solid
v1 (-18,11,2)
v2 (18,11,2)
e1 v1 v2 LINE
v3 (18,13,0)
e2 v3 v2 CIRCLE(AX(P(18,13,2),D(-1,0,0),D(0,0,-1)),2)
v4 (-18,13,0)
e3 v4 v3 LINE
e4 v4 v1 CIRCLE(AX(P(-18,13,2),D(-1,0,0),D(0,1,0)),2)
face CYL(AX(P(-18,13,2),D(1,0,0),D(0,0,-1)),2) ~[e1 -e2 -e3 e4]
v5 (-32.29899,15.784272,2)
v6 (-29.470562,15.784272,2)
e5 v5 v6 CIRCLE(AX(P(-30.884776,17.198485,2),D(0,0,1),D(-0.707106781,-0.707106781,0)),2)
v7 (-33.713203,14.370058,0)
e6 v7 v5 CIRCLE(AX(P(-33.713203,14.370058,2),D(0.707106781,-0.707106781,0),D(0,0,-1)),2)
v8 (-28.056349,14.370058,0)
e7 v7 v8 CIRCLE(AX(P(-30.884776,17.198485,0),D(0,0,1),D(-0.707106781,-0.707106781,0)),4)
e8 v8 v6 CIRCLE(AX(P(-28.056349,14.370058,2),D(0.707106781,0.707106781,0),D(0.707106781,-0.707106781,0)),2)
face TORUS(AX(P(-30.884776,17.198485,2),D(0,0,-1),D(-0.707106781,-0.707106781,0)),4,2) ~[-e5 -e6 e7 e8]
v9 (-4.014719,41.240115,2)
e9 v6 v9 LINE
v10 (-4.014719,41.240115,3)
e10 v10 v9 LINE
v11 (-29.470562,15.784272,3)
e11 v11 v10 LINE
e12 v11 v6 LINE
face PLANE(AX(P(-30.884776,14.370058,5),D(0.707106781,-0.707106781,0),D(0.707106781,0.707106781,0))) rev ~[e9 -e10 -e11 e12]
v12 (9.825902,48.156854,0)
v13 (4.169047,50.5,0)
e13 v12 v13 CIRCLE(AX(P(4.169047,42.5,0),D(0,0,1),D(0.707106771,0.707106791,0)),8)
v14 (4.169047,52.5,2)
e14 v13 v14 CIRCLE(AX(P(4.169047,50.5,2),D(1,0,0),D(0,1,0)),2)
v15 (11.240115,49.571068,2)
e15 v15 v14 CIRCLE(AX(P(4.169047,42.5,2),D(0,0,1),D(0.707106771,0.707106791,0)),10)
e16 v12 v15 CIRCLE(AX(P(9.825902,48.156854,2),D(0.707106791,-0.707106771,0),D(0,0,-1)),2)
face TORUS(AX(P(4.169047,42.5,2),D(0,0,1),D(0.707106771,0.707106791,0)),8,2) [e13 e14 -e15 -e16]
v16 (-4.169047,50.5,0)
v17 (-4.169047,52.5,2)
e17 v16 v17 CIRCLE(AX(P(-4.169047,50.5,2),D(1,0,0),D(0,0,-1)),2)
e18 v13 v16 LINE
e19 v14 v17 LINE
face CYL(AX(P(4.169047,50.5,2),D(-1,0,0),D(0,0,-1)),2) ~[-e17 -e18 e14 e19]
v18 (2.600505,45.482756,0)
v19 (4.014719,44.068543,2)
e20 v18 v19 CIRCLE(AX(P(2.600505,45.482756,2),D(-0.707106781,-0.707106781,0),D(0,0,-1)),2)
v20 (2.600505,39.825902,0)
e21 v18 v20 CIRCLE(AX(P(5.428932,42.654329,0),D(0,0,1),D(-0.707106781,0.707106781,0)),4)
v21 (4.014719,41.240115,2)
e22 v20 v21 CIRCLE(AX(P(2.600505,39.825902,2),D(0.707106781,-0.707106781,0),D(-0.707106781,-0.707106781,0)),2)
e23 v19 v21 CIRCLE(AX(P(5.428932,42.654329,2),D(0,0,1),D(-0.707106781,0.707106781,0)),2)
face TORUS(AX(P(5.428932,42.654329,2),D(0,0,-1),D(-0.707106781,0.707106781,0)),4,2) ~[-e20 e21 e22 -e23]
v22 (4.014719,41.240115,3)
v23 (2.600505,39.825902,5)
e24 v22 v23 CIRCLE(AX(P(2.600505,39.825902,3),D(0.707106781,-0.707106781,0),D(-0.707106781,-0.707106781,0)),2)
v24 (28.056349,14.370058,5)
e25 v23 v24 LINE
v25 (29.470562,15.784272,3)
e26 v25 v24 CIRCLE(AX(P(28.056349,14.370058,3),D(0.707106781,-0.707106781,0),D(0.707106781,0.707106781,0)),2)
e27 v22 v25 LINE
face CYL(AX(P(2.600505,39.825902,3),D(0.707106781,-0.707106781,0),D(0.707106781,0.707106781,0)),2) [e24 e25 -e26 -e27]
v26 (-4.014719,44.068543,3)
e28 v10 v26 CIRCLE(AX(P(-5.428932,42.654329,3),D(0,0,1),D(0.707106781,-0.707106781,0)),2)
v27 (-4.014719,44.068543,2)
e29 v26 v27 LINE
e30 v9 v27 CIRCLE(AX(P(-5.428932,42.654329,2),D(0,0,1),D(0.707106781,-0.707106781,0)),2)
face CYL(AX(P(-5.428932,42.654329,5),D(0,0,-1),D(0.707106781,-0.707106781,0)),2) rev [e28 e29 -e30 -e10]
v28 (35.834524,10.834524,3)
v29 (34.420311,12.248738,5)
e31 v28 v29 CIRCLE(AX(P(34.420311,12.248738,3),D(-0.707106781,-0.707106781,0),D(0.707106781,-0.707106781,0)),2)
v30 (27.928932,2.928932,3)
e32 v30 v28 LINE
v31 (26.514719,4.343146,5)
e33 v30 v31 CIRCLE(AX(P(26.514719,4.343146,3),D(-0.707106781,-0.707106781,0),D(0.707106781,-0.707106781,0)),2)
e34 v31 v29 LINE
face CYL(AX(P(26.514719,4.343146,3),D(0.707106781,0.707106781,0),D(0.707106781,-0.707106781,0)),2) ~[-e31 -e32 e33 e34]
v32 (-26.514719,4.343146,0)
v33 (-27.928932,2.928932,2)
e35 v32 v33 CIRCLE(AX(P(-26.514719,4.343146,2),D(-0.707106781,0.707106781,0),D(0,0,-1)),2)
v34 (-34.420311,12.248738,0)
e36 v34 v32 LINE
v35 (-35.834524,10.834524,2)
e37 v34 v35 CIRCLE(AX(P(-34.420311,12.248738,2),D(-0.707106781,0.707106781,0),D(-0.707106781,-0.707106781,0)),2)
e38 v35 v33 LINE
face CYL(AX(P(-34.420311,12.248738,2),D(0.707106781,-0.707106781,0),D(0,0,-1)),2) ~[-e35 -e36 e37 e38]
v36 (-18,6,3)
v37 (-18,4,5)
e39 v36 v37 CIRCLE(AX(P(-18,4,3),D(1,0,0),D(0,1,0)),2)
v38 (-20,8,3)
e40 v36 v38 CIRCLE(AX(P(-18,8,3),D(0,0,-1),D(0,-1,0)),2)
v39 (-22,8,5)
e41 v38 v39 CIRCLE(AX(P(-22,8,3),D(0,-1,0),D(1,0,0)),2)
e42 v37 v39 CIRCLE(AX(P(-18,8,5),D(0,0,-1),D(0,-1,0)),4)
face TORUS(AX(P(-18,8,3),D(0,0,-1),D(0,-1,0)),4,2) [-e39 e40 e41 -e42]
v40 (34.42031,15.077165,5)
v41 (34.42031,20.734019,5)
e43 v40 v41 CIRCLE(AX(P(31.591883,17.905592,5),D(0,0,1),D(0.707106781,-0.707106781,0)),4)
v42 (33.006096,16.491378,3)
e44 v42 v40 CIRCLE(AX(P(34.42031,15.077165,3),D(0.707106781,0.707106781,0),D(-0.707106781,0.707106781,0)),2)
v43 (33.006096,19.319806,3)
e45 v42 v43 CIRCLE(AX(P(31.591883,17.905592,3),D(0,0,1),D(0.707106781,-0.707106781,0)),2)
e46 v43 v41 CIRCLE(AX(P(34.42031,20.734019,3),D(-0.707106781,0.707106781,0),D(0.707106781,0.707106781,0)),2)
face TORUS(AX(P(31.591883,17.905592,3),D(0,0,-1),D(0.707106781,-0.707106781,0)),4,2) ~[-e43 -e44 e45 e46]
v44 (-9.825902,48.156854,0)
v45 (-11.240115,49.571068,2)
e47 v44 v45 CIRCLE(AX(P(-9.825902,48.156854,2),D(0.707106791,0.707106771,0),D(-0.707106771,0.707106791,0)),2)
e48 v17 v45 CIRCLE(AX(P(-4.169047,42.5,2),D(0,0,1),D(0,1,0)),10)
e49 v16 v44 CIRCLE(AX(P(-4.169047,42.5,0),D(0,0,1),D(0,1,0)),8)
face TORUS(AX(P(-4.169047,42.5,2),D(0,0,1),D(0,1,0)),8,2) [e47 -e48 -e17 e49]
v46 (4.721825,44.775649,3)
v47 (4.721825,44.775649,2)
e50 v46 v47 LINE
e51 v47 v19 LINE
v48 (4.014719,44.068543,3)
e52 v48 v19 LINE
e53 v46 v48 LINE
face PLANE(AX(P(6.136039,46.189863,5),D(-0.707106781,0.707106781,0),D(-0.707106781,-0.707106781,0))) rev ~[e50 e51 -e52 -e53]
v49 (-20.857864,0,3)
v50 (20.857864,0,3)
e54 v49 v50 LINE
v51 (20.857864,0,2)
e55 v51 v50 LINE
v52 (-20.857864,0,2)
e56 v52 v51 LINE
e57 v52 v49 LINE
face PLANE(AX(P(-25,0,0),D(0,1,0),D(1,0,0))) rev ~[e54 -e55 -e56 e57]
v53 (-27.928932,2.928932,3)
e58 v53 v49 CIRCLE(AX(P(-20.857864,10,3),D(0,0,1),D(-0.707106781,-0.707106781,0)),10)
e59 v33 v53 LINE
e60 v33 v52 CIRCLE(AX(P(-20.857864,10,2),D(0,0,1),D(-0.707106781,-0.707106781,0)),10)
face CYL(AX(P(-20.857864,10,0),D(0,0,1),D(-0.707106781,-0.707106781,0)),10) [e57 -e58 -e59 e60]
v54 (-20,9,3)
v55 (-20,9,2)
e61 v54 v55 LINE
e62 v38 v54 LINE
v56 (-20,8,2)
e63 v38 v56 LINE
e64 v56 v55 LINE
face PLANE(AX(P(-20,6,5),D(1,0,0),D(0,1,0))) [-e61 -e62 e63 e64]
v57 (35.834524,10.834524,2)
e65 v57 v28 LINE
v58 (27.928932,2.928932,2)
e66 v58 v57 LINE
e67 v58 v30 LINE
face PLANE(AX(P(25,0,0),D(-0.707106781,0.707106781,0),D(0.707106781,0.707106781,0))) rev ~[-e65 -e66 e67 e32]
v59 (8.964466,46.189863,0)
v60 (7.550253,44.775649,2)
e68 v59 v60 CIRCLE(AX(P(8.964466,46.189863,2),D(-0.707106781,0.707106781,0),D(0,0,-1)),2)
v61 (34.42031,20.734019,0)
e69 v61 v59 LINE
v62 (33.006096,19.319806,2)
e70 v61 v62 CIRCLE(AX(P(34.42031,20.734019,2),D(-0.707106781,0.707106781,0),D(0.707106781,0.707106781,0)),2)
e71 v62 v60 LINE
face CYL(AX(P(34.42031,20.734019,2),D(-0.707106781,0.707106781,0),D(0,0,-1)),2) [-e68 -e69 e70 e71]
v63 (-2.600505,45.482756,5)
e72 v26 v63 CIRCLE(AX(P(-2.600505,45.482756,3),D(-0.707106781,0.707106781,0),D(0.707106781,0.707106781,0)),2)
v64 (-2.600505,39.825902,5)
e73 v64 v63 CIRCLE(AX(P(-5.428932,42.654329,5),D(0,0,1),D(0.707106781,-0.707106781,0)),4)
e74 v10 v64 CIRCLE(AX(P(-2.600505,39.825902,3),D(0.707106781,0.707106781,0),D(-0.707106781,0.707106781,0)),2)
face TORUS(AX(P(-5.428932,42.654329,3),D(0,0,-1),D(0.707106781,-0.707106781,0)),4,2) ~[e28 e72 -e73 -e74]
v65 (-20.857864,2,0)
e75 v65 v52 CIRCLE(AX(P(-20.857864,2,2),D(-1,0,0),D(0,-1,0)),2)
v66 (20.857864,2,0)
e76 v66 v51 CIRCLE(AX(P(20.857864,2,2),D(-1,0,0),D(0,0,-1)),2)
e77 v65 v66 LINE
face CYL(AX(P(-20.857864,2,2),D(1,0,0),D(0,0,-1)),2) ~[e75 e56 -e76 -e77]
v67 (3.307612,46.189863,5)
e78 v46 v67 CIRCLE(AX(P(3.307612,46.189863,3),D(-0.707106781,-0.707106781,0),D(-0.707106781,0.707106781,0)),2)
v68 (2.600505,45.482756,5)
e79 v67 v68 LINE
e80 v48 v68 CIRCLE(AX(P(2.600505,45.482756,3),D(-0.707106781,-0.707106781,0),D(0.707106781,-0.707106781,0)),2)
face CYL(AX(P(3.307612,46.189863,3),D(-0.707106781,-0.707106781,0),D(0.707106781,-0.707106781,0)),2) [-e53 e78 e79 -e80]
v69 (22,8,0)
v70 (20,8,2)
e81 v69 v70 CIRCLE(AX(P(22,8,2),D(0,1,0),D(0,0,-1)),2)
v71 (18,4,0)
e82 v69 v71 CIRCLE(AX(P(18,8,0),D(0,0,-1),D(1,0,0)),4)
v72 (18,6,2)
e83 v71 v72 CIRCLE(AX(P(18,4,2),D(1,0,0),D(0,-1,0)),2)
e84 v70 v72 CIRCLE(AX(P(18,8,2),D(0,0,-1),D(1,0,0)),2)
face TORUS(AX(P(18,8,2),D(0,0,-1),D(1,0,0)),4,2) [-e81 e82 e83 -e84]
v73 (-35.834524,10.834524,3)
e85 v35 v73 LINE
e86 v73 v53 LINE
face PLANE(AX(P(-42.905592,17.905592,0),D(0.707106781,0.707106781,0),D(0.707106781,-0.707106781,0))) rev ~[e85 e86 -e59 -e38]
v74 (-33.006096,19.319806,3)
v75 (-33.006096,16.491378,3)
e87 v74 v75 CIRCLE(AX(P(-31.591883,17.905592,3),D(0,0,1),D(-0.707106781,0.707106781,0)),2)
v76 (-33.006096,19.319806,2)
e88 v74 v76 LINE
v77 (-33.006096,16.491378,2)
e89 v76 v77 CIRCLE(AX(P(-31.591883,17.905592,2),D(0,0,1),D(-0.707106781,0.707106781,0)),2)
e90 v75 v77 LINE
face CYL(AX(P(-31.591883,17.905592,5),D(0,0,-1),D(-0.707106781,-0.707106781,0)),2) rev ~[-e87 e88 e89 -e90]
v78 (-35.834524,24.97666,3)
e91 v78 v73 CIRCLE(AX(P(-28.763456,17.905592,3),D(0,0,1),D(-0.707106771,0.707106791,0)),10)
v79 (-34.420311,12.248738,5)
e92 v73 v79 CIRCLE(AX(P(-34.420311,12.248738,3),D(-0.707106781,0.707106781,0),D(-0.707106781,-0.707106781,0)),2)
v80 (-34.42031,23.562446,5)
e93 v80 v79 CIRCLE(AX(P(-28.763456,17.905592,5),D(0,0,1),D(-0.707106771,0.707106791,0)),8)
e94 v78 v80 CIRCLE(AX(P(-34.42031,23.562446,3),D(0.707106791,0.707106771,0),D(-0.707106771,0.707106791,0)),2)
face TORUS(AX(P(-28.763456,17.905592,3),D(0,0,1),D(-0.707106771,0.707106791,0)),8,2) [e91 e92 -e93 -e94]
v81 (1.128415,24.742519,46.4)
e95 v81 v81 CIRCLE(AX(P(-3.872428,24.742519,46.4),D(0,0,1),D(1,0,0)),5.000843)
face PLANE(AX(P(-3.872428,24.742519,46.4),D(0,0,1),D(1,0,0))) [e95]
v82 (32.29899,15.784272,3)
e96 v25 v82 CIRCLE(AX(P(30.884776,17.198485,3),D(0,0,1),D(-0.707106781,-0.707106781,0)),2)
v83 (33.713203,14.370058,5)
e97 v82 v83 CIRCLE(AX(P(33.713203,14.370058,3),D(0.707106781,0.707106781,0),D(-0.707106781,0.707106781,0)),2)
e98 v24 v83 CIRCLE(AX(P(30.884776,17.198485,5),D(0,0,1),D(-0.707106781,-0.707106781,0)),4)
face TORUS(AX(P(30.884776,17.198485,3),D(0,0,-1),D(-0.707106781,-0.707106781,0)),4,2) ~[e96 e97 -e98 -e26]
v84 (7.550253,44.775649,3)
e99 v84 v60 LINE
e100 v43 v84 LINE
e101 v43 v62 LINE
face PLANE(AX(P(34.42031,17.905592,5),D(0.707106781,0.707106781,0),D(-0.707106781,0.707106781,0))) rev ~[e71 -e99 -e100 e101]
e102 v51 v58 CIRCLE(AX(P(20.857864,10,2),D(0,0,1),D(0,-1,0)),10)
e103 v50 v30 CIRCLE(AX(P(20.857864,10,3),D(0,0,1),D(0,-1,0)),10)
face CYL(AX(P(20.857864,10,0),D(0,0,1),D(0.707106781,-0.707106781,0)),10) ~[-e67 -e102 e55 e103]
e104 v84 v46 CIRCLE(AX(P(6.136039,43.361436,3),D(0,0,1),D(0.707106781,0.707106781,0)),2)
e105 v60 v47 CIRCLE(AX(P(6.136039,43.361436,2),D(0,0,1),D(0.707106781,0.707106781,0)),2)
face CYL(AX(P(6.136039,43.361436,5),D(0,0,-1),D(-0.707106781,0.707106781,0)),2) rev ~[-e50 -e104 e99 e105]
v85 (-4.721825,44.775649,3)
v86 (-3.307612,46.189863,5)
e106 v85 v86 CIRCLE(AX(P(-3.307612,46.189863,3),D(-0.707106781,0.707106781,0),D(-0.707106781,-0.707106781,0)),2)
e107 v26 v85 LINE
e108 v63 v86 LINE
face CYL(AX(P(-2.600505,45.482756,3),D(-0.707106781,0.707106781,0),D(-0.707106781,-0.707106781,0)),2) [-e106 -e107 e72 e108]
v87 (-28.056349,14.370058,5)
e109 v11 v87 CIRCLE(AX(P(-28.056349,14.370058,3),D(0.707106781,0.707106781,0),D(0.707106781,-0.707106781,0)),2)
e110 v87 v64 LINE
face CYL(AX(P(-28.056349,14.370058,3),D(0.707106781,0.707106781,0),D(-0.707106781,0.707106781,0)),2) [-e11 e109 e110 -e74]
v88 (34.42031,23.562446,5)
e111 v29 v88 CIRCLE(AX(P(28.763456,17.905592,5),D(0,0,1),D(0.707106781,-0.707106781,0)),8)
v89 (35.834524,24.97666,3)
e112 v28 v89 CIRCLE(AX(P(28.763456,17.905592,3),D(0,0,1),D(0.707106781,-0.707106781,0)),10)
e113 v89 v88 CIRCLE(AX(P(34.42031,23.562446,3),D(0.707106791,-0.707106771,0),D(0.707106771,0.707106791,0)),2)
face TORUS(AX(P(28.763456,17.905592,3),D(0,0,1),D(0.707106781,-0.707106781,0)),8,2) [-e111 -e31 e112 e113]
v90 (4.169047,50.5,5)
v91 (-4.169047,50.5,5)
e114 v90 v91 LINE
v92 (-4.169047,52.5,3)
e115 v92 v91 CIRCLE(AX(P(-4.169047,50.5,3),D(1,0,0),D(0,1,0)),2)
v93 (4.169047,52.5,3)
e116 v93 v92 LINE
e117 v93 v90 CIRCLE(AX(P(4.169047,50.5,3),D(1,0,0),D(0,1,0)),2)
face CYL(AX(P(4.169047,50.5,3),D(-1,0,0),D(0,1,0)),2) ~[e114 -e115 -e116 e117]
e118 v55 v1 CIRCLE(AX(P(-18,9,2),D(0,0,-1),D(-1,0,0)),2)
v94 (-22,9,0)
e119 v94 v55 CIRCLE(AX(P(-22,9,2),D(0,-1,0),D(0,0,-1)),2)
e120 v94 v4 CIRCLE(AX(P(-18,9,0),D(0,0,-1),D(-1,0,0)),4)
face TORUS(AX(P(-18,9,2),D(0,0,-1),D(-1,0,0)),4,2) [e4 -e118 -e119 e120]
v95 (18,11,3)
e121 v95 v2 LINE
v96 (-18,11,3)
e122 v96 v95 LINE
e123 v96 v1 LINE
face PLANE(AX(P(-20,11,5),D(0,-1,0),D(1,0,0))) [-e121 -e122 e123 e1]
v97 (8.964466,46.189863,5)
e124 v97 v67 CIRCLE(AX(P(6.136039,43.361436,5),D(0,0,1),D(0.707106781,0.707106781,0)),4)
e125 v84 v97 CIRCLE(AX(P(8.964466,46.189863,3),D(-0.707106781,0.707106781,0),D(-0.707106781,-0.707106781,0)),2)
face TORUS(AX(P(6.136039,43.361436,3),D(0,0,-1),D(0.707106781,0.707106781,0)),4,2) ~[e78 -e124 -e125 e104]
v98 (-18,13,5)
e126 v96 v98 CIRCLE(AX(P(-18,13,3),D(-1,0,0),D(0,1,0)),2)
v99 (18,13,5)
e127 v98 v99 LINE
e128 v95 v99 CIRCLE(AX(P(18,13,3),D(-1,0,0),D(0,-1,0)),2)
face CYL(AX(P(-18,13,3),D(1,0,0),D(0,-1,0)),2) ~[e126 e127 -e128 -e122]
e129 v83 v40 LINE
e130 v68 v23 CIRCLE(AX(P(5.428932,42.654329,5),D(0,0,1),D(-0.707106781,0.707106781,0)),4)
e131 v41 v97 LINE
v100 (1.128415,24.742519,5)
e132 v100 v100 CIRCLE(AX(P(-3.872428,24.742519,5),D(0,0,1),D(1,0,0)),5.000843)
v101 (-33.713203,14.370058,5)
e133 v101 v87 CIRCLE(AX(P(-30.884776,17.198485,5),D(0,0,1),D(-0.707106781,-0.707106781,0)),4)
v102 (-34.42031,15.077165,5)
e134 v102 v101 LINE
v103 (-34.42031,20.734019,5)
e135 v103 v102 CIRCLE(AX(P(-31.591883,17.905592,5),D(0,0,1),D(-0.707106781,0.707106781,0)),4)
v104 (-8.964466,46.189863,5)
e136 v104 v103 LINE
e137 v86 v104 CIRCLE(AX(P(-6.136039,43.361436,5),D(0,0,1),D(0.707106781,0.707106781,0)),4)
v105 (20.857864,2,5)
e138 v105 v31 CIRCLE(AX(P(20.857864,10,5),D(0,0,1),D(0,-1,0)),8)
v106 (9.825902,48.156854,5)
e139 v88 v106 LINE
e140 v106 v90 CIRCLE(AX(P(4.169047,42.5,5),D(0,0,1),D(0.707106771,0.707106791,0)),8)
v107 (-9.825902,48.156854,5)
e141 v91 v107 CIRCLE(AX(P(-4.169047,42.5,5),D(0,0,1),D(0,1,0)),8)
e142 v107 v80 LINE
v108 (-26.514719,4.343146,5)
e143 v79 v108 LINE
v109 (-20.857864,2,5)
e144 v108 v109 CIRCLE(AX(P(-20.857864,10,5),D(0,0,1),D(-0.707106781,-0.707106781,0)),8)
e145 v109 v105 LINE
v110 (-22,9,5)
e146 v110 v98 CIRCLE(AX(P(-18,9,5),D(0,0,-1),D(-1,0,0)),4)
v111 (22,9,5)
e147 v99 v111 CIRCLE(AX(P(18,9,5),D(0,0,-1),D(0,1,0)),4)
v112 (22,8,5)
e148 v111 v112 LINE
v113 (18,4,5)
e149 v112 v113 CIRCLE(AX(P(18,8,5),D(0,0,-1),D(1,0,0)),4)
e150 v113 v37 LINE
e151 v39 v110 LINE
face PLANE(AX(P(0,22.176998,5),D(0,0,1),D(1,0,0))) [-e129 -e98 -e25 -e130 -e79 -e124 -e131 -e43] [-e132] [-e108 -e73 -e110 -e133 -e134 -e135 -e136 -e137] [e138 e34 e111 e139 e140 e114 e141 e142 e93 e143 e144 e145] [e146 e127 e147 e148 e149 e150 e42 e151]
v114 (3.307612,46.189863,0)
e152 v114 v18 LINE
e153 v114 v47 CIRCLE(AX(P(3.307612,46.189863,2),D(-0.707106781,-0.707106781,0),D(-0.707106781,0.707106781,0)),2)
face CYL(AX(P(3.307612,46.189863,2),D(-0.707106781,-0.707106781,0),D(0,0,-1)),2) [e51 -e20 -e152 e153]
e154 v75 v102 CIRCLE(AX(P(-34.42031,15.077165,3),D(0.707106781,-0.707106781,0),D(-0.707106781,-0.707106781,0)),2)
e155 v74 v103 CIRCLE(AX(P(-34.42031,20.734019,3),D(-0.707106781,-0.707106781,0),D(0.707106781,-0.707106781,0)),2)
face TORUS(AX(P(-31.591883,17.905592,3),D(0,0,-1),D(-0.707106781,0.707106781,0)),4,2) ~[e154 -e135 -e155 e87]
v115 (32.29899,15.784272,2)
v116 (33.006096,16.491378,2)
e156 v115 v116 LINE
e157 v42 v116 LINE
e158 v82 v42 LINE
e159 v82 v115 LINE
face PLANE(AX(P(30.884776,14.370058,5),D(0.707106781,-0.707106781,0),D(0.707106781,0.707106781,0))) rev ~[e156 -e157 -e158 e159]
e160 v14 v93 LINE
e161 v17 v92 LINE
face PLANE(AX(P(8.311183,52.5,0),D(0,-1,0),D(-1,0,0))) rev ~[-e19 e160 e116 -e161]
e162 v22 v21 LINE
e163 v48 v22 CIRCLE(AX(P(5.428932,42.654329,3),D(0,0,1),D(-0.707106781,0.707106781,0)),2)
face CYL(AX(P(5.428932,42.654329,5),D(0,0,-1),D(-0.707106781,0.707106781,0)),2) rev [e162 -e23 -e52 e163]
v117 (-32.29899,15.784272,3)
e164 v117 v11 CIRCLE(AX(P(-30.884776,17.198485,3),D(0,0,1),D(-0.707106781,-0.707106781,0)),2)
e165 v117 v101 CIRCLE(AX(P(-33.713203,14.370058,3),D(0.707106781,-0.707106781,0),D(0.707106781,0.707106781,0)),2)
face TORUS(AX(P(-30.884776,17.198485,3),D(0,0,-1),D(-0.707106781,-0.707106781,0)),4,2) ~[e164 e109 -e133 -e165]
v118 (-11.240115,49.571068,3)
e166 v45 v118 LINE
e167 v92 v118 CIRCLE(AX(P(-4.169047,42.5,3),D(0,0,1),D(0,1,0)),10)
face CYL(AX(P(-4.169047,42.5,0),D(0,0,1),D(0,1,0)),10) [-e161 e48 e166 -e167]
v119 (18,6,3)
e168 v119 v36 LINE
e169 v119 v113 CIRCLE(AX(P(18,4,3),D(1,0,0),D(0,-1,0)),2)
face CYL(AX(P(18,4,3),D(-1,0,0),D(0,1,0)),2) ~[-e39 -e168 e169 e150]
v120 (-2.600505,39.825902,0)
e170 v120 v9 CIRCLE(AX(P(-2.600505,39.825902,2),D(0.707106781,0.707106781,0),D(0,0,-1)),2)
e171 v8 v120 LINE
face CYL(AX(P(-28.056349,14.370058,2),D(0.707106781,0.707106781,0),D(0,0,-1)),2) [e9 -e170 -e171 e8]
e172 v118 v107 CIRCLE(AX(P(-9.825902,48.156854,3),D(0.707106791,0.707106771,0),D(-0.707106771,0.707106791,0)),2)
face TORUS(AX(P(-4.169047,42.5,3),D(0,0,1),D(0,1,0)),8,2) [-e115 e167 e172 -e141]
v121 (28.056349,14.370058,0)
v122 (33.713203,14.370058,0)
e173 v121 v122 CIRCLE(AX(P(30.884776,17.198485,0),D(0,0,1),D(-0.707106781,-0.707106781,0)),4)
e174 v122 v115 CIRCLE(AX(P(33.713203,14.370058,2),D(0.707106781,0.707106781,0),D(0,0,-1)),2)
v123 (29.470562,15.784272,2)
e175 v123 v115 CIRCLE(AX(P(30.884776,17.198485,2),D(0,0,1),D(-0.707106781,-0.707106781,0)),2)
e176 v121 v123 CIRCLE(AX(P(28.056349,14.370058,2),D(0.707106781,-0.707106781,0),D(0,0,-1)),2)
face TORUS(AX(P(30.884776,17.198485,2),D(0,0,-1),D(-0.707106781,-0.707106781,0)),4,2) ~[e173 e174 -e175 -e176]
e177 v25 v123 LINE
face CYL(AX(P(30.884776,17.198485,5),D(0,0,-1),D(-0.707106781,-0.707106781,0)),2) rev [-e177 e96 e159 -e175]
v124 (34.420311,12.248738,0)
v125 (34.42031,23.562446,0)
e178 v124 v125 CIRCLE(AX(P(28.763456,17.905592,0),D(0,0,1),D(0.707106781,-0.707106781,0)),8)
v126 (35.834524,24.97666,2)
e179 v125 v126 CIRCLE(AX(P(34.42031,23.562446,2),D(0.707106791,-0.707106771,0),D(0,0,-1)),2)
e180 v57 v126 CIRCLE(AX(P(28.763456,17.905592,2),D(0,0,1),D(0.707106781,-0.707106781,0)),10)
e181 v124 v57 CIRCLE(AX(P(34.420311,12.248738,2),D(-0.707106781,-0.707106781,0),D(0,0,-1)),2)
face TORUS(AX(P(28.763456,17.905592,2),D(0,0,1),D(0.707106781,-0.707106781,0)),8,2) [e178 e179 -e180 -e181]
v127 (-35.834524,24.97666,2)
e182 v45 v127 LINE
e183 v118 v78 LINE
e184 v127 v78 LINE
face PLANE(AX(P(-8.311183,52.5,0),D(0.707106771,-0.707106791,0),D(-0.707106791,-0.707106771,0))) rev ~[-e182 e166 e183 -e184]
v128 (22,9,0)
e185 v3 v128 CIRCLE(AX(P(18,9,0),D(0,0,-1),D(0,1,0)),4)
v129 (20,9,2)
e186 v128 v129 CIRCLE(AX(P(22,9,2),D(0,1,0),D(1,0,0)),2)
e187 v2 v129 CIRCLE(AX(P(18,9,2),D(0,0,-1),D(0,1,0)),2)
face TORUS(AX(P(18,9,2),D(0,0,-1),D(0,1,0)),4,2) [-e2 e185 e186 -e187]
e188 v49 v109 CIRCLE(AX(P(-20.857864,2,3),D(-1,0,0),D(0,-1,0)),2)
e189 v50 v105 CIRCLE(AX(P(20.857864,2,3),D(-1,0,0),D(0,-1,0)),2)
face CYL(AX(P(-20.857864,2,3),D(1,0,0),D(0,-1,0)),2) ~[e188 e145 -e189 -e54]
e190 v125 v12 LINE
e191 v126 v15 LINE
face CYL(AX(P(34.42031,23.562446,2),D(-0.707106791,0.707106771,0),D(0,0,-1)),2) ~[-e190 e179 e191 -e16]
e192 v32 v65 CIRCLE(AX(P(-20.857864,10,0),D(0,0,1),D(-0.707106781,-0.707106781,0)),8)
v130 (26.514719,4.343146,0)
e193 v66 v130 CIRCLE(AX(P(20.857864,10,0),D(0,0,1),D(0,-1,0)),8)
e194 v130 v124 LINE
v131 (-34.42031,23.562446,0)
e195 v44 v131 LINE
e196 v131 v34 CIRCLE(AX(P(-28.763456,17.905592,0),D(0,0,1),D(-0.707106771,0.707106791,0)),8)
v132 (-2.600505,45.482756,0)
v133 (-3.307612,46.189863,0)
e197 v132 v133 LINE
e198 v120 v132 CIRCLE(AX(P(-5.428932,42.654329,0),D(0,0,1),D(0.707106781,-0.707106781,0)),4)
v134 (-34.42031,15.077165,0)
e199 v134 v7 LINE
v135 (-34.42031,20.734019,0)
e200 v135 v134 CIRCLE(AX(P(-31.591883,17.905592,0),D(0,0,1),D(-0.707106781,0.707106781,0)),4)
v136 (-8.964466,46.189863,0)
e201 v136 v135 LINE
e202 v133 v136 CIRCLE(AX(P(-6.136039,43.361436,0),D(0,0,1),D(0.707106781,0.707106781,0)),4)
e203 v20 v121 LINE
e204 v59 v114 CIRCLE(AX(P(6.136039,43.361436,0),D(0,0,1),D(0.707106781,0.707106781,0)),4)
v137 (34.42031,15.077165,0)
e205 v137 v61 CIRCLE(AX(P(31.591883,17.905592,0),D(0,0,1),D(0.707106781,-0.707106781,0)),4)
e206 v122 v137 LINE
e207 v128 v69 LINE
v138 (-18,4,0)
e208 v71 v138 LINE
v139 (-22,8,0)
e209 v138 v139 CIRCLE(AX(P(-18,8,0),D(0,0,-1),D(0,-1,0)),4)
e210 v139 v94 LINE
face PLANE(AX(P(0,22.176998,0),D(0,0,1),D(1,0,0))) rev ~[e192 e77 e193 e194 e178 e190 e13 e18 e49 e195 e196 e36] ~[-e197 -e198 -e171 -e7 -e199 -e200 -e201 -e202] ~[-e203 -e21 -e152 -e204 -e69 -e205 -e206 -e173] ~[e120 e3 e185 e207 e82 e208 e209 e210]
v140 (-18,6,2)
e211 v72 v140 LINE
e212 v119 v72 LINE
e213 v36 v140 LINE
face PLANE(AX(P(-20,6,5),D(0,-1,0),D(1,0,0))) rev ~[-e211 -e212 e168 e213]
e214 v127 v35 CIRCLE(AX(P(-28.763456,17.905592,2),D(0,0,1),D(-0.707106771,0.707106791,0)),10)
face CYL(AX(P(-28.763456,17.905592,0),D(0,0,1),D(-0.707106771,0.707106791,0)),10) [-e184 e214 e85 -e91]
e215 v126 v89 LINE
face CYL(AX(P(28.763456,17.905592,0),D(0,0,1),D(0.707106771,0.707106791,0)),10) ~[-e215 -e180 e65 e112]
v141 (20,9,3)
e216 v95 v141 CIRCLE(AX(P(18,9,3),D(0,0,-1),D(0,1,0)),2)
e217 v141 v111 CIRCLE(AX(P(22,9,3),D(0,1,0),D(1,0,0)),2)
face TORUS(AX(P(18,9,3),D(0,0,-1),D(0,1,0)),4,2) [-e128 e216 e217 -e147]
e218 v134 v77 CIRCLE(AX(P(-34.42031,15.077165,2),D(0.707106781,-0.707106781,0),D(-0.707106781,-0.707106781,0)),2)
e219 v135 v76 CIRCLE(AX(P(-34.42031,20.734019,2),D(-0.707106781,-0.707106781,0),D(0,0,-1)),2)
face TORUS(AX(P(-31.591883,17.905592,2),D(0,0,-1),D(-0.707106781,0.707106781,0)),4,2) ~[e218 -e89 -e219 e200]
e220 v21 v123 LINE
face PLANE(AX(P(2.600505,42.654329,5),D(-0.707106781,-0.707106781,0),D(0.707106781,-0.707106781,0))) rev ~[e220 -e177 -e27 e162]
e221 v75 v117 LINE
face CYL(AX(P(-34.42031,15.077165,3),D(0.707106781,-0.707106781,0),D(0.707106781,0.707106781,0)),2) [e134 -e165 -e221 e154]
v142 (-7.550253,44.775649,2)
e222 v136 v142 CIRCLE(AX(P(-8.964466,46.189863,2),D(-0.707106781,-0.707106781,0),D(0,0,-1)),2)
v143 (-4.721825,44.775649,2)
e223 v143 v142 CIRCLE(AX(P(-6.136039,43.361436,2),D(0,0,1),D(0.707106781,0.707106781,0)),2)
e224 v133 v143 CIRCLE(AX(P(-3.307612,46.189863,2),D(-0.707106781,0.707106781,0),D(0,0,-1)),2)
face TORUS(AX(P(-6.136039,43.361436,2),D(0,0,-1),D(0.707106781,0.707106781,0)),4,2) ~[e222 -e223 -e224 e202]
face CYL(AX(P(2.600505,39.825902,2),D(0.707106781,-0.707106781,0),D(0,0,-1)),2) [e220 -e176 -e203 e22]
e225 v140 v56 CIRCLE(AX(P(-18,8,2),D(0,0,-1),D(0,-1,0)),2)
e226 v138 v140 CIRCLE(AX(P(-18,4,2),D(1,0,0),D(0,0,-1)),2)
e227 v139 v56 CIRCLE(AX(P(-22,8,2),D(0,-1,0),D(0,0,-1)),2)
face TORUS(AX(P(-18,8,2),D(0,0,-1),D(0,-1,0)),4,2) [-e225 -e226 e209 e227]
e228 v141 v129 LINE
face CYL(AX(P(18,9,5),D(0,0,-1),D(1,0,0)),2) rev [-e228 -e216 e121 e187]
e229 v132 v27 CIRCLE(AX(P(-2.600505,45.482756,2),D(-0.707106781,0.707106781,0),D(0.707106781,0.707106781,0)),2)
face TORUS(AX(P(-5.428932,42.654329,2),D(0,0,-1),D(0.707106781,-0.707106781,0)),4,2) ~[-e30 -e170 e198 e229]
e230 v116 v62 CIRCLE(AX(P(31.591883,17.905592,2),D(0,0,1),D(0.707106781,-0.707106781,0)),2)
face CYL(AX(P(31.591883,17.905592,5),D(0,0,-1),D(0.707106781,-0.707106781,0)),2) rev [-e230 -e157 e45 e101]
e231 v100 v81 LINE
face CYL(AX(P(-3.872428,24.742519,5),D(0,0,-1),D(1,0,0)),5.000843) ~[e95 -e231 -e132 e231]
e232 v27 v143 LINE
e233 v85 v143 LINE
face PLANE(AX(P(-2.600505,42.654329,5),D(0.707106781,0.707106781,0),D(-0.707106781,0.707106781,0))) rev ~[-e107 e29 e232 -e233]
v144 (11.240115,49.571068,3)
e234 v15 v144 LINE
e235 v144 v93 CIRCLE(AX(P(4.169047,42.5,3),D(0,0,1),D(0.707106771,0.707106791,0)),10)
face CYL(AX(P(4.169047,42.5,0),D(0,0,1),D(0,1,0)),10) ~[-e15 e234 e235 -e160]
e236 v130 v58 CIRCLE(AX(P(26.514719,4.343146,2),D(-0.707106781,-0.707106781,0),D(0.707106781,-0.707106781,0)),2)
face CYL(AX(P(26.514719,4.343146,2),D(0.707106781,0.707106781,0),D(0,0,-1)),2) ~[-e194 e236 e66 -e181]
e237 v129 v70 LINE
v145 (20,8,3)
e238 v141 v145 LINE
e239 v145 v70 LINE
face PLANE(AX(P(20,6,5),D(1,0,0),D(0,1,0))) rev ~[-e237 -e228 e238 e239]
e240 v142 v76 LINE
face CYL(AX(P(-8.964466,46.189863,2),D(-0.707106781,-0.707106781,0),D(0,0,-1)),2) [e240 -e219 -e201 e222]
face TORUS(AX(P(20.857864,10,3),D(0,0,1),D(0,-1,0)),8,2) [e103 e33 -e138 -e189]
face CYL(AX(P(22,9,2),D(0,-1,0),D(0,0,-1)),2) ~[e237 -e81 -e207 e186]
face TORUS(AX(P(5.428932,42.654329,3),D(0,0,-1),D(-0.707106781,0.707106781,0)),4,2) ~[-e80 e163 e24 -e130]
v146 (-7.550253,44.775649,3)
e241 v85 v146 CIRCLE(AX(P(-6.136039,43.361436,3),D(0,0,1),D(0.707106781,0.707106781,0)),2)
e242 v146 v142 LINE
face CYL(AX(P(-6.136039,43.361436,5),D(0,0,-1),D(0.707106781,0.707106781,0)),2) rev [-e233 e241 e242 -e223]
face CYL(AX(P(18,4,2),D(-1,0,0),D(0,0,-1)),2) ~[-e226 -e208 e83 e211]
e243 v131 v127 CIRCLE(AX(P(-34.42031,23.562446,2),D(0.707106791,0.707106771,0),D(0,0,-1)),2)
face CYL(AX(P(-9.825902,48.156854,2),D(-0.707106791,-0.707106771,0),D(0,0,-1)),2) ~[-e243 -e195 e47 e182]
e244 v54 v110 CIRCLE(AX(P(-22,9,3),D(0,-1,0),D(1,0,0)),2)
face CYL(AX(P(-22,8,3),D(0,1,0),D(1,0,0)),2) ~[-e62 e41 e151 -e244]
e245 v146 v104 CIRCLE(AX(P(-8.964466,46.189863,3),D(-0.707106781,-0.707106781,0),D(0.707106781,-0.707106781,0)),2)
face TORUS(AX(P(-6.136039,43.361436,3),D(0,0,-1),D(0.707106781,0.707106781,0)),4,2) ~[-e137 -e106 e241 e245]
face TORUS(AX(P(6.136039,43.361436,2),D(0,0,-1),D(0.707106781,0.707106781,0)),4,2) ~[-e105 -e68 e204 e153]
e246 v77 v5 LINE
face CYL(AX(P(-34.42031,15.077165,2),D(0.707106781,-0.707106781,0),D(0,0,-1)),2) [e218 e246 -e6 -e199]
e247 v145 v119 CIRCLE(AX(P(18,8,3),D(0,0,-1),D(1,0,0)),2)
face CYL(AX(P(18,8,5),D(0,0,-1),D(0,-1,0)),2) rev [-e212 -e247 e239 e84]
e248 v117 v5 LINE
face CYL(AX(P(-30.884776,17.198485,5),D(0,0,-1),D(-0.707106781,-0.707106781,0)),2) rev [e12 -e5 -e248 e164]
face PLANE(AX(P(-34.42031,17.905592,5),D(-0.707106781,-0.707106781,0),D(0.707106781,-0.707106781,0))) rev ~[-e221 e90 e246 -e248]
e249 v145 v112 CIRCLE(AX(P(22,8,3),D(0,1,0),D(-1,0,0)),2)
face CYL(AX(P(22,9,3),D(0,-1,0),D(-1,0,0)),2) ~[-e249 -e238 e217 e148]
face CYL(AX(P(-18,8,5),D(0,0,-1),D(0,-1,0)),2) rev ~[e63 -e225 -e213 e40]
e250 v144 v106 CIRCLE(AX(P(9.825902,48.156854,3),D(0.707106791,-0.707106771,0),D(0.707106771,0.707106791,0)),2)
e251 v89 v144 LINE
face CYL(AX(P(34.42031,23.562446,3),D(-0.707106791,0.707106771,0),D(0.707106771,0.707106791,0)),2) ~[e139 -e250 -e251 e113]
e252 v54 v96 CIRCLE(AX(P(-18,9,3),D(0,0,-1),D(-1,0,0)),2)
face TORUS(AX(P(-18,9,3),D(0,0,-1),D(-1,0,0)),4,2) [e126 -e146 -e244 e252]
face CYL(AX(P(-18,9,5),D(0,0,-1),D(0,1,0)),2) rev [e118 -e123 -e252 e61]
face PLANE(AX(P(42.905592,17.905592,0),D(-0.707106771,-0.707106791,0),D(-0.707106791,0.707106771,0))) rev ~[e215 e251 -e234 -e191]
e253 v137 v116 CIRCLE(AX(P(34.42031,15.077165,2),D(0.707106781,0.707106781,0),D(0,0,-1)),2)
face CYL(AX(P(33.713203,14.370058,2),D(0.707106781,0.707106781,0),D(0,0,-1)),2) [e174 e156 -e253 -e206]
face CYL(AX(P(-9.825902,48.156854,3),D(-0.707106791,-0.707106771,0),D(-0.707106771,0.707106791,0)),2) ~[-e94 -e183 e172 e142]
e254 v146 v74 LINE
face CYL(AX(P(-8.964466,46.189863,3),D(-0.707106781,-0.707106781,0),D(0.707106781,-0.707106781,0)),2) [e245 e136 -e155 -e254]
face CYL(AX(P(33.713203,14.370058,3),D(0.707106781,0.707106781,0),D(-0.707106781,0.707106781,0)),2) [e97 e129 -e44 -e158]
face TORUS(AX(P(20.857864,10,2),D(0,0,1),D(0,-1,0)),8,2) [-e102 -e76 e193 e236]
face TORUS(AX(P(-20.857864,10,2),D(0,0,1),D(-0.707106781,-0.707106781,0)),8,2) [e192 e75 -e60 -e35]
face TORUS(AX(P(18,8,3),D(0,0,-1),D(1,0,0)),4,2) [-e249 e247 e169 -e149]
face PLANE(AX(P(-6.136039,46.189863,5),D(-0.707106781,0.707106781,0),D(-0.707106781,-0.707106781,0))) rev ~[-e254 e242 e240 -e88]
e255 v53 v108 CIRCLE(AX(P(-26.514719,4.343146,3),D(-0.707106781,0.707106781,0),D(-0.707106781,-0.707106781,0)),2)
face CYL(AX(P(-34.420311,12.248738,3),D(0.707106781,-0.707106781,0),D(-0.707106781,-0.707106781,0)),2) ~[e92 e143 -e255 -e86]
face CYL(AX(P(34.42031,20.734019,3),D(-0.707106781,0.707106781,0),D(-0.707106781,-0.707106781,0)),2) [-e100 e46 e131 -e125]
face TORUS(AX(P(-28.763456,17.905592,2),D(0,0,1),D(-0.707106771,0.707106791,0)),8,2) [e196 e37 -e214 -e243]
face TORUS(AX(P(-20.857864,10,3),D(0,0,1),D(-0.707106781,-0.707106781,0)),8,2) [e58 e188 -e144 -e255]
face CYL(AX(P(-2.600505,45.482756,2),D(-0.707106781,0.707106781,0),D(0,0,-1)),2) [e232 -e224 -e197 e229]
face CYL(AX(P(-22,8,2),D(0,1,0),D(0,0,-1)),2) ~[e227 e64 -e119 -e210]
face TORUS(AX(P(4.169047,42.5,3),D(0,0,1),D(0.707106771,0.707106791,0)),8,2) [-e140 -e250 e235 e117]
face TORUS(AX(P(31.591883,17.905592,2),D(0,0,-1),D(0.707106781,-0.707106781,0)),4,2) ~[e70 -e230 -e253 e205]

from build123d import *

# Parameters (mm, degrees)
F1_DEPTH = 5
F2_W     = 40
F2_H     = 5
F3_DEPTH = 25
F4_R     = 10
F5_R     = 2
F6_R     = 2
F7_R     = 5.000843
F8_DEPTH = 41.4


with BuildPart() as f1:
    # F0 (on Top) → F1 (new body)
    with BuildSketch(Plane.XY):
        Polygon((8.311183, 52.5), (-8.311183, 52.5), (-42.905592, 17.905592), (-25, 0), (25, 0), (42.905592, 17.905592), align=None)
    extrude(amount=F1_DEPTH)

    # F2 (on face) → F3 (cut)
    with BuildSketch(Plane.XY.offset(5)):
        with Locations((0, 8.5)):
            Rectangle(F2_W, F2_H)
        Polygon((-34.42031, 17.905592), (-30.884776, 14.370058), (-2.600505, 42.654329), (-6.136039, 46.189863), align=None)
        Polygon((6.136039, 46.189863), (2.600505, 42.654329), (30.884776, 14.370058), (34.42031, 17.905592), align=None)
    extrude(amount=-F3_DEPTH, mode=Mode.SUBTRACT)

    # F4
    f4_edges = [f1.edges().sort_by_distance(p)[0] for p in [
        (-42.905592, 17.905592, 2.5),
        (42.905592, 17.905592, 2.5),
        (25, 0, 2.5),
        (-25, 0, 2.5),
        (8.311183, 52.5, 2.5),
        (-8.311183, 52.5, 2.5),
    ]]
    fillet(f4_edges, radius=F4_R)

    # F5
    f5_edges = [f1.edges().sort_by_distance(p)[0] for p in [
        (-6.136039, 46.189863, 2.5),
        (6.136039, 46.189863, 2.5),
        (-2.600505, 42.654329, 2.5),
        (34.42031, 17.905592, 2.5),
        (20, 11, 2.5),
        (-34.42031, 17.905592, 2.5),
        (-20, 11, 2.5),
        (-20, 6, 2.5),
        (20, 6, 2.5),
        (30.884776, 14.370058, 2.5),
        (-30.884776, 14.370058, 2.5),
        (2.600505, 42.654329, 2.5),
    ]]
    fillet(f5_edges, radius=F5_R)

    # F6
    f6_edges = [f1.edges().sort_by_distance(p)[0] for p in [
        (-20, 8.5, 5),
        (-19.414214, 10.414214, 5),
        (-19.414214, 6.585786, 5),
        (0, 11, 5),
        (0, 6, 5),
        (19.414214, 10.414214, 5),
        (19.414214, 6.585786, 5),
        (20, 8.5, 5),
        (23.53732, 37.273864, 5),
        (38.763456, 17.905592, 5),
        (7.995882, 51.738795, 5),
        (31.881728, 6.881728, 5),
        (0, 52.5, 5),
        (24.684699, 0.761205, 5),
        (-7.995882, 51.738795, 5),
        (0, 0, 5),
        (-23.53732, 37.273864, 5),
        (-24.684699, 0.761205, 5),
        (-38.763456, 17.905592, 5),
        (-31.881728, 6.881728, 5),
        (-20.278175, 32.047727, 5),
        (-6.136039, 45.361436, 5),
        (-33.591883, 17.905592, 5),
        (-4.368272, 44.422096, 5),
        (-32.652543, 16.137825, 5),
        (-3.428932, 42.654329, 5),
        (-30.884776, 15.198485, 5),
        (-16.742641, 28.512193, 5),
        (32.652543, 16.137825, 5),
        (30.884776, 15.198485, 5),
        (33.591883, 17.905592, 5),
        (16.742641, 28.512193, 5),
        (20.278175, 32.047727, 5),
        (3.428932, 42.654329, 5),
        (6.136039, 45.361436, 5),
        (4.368272, 44.422096, 5),
        (-20, 8.5, 0),
        (-19.414214, 10.414214, 0),
        (-19.414214, 6.585786, 0),
        (0, 11, 0),
        (0, 6, 0),
        (19.414214, 10.414214, 0),
        (19.414214, 6.585786, 0),
        (20, 8.5, 0),
        (23.53732, 37.273864, 0),
        (38.763456, 17.905592, 0),
        (7.995882, 51.738795, 0),
        (31.881728, 6.881728, 0),
        (0, 52.5, 0),
        (24.684699, 0.761205, 0),
        (-7.995882, 51.738795, 0),
        (0, 0, 0),
        (-23.53732, 37.273864, 0),
        (-24.684699, 0.761205, 0),
        (-38.763456, 17.905592, 0),
        (-31.881728, 6.881728, 0),
        (-20.278175, 32.047727, 0),
        (-6.136039, 45.361436, 0),
        (-33.591883, 17.905592, 0),
        (-4.368272, 44.422096, 0),
        (-32.652543, 16.137825, 0),
        (-3.428932, 42.654329, 0),
        (-30.884776, 15.198485, 0),
        (-16.742641, 28.512193, 0),
        (32.652543, 16.137825, 0),
        (30.884776, 15.198485, 0),
        (33.591883, 17.905592, 0),
        (16.742641, 28.512193, 0),
        (20.278175, 32.047727, 0),
        (3.428932, 42.654329, 0),
        (6.136039, 45.361436, 0),
        (4.368272, 44.422096, 0),
    ]]
    fillet(f6_edges, radius=F6_R)

    # F7 (on face) → F8 (join)
    with BuildSketch(Plane.XY.offset(5)):
        with Locations((-3.872428, 24.742519)):
            Circle(F7_R)
    extrude(amount=F8_DEPTH)


solid = f1.part
